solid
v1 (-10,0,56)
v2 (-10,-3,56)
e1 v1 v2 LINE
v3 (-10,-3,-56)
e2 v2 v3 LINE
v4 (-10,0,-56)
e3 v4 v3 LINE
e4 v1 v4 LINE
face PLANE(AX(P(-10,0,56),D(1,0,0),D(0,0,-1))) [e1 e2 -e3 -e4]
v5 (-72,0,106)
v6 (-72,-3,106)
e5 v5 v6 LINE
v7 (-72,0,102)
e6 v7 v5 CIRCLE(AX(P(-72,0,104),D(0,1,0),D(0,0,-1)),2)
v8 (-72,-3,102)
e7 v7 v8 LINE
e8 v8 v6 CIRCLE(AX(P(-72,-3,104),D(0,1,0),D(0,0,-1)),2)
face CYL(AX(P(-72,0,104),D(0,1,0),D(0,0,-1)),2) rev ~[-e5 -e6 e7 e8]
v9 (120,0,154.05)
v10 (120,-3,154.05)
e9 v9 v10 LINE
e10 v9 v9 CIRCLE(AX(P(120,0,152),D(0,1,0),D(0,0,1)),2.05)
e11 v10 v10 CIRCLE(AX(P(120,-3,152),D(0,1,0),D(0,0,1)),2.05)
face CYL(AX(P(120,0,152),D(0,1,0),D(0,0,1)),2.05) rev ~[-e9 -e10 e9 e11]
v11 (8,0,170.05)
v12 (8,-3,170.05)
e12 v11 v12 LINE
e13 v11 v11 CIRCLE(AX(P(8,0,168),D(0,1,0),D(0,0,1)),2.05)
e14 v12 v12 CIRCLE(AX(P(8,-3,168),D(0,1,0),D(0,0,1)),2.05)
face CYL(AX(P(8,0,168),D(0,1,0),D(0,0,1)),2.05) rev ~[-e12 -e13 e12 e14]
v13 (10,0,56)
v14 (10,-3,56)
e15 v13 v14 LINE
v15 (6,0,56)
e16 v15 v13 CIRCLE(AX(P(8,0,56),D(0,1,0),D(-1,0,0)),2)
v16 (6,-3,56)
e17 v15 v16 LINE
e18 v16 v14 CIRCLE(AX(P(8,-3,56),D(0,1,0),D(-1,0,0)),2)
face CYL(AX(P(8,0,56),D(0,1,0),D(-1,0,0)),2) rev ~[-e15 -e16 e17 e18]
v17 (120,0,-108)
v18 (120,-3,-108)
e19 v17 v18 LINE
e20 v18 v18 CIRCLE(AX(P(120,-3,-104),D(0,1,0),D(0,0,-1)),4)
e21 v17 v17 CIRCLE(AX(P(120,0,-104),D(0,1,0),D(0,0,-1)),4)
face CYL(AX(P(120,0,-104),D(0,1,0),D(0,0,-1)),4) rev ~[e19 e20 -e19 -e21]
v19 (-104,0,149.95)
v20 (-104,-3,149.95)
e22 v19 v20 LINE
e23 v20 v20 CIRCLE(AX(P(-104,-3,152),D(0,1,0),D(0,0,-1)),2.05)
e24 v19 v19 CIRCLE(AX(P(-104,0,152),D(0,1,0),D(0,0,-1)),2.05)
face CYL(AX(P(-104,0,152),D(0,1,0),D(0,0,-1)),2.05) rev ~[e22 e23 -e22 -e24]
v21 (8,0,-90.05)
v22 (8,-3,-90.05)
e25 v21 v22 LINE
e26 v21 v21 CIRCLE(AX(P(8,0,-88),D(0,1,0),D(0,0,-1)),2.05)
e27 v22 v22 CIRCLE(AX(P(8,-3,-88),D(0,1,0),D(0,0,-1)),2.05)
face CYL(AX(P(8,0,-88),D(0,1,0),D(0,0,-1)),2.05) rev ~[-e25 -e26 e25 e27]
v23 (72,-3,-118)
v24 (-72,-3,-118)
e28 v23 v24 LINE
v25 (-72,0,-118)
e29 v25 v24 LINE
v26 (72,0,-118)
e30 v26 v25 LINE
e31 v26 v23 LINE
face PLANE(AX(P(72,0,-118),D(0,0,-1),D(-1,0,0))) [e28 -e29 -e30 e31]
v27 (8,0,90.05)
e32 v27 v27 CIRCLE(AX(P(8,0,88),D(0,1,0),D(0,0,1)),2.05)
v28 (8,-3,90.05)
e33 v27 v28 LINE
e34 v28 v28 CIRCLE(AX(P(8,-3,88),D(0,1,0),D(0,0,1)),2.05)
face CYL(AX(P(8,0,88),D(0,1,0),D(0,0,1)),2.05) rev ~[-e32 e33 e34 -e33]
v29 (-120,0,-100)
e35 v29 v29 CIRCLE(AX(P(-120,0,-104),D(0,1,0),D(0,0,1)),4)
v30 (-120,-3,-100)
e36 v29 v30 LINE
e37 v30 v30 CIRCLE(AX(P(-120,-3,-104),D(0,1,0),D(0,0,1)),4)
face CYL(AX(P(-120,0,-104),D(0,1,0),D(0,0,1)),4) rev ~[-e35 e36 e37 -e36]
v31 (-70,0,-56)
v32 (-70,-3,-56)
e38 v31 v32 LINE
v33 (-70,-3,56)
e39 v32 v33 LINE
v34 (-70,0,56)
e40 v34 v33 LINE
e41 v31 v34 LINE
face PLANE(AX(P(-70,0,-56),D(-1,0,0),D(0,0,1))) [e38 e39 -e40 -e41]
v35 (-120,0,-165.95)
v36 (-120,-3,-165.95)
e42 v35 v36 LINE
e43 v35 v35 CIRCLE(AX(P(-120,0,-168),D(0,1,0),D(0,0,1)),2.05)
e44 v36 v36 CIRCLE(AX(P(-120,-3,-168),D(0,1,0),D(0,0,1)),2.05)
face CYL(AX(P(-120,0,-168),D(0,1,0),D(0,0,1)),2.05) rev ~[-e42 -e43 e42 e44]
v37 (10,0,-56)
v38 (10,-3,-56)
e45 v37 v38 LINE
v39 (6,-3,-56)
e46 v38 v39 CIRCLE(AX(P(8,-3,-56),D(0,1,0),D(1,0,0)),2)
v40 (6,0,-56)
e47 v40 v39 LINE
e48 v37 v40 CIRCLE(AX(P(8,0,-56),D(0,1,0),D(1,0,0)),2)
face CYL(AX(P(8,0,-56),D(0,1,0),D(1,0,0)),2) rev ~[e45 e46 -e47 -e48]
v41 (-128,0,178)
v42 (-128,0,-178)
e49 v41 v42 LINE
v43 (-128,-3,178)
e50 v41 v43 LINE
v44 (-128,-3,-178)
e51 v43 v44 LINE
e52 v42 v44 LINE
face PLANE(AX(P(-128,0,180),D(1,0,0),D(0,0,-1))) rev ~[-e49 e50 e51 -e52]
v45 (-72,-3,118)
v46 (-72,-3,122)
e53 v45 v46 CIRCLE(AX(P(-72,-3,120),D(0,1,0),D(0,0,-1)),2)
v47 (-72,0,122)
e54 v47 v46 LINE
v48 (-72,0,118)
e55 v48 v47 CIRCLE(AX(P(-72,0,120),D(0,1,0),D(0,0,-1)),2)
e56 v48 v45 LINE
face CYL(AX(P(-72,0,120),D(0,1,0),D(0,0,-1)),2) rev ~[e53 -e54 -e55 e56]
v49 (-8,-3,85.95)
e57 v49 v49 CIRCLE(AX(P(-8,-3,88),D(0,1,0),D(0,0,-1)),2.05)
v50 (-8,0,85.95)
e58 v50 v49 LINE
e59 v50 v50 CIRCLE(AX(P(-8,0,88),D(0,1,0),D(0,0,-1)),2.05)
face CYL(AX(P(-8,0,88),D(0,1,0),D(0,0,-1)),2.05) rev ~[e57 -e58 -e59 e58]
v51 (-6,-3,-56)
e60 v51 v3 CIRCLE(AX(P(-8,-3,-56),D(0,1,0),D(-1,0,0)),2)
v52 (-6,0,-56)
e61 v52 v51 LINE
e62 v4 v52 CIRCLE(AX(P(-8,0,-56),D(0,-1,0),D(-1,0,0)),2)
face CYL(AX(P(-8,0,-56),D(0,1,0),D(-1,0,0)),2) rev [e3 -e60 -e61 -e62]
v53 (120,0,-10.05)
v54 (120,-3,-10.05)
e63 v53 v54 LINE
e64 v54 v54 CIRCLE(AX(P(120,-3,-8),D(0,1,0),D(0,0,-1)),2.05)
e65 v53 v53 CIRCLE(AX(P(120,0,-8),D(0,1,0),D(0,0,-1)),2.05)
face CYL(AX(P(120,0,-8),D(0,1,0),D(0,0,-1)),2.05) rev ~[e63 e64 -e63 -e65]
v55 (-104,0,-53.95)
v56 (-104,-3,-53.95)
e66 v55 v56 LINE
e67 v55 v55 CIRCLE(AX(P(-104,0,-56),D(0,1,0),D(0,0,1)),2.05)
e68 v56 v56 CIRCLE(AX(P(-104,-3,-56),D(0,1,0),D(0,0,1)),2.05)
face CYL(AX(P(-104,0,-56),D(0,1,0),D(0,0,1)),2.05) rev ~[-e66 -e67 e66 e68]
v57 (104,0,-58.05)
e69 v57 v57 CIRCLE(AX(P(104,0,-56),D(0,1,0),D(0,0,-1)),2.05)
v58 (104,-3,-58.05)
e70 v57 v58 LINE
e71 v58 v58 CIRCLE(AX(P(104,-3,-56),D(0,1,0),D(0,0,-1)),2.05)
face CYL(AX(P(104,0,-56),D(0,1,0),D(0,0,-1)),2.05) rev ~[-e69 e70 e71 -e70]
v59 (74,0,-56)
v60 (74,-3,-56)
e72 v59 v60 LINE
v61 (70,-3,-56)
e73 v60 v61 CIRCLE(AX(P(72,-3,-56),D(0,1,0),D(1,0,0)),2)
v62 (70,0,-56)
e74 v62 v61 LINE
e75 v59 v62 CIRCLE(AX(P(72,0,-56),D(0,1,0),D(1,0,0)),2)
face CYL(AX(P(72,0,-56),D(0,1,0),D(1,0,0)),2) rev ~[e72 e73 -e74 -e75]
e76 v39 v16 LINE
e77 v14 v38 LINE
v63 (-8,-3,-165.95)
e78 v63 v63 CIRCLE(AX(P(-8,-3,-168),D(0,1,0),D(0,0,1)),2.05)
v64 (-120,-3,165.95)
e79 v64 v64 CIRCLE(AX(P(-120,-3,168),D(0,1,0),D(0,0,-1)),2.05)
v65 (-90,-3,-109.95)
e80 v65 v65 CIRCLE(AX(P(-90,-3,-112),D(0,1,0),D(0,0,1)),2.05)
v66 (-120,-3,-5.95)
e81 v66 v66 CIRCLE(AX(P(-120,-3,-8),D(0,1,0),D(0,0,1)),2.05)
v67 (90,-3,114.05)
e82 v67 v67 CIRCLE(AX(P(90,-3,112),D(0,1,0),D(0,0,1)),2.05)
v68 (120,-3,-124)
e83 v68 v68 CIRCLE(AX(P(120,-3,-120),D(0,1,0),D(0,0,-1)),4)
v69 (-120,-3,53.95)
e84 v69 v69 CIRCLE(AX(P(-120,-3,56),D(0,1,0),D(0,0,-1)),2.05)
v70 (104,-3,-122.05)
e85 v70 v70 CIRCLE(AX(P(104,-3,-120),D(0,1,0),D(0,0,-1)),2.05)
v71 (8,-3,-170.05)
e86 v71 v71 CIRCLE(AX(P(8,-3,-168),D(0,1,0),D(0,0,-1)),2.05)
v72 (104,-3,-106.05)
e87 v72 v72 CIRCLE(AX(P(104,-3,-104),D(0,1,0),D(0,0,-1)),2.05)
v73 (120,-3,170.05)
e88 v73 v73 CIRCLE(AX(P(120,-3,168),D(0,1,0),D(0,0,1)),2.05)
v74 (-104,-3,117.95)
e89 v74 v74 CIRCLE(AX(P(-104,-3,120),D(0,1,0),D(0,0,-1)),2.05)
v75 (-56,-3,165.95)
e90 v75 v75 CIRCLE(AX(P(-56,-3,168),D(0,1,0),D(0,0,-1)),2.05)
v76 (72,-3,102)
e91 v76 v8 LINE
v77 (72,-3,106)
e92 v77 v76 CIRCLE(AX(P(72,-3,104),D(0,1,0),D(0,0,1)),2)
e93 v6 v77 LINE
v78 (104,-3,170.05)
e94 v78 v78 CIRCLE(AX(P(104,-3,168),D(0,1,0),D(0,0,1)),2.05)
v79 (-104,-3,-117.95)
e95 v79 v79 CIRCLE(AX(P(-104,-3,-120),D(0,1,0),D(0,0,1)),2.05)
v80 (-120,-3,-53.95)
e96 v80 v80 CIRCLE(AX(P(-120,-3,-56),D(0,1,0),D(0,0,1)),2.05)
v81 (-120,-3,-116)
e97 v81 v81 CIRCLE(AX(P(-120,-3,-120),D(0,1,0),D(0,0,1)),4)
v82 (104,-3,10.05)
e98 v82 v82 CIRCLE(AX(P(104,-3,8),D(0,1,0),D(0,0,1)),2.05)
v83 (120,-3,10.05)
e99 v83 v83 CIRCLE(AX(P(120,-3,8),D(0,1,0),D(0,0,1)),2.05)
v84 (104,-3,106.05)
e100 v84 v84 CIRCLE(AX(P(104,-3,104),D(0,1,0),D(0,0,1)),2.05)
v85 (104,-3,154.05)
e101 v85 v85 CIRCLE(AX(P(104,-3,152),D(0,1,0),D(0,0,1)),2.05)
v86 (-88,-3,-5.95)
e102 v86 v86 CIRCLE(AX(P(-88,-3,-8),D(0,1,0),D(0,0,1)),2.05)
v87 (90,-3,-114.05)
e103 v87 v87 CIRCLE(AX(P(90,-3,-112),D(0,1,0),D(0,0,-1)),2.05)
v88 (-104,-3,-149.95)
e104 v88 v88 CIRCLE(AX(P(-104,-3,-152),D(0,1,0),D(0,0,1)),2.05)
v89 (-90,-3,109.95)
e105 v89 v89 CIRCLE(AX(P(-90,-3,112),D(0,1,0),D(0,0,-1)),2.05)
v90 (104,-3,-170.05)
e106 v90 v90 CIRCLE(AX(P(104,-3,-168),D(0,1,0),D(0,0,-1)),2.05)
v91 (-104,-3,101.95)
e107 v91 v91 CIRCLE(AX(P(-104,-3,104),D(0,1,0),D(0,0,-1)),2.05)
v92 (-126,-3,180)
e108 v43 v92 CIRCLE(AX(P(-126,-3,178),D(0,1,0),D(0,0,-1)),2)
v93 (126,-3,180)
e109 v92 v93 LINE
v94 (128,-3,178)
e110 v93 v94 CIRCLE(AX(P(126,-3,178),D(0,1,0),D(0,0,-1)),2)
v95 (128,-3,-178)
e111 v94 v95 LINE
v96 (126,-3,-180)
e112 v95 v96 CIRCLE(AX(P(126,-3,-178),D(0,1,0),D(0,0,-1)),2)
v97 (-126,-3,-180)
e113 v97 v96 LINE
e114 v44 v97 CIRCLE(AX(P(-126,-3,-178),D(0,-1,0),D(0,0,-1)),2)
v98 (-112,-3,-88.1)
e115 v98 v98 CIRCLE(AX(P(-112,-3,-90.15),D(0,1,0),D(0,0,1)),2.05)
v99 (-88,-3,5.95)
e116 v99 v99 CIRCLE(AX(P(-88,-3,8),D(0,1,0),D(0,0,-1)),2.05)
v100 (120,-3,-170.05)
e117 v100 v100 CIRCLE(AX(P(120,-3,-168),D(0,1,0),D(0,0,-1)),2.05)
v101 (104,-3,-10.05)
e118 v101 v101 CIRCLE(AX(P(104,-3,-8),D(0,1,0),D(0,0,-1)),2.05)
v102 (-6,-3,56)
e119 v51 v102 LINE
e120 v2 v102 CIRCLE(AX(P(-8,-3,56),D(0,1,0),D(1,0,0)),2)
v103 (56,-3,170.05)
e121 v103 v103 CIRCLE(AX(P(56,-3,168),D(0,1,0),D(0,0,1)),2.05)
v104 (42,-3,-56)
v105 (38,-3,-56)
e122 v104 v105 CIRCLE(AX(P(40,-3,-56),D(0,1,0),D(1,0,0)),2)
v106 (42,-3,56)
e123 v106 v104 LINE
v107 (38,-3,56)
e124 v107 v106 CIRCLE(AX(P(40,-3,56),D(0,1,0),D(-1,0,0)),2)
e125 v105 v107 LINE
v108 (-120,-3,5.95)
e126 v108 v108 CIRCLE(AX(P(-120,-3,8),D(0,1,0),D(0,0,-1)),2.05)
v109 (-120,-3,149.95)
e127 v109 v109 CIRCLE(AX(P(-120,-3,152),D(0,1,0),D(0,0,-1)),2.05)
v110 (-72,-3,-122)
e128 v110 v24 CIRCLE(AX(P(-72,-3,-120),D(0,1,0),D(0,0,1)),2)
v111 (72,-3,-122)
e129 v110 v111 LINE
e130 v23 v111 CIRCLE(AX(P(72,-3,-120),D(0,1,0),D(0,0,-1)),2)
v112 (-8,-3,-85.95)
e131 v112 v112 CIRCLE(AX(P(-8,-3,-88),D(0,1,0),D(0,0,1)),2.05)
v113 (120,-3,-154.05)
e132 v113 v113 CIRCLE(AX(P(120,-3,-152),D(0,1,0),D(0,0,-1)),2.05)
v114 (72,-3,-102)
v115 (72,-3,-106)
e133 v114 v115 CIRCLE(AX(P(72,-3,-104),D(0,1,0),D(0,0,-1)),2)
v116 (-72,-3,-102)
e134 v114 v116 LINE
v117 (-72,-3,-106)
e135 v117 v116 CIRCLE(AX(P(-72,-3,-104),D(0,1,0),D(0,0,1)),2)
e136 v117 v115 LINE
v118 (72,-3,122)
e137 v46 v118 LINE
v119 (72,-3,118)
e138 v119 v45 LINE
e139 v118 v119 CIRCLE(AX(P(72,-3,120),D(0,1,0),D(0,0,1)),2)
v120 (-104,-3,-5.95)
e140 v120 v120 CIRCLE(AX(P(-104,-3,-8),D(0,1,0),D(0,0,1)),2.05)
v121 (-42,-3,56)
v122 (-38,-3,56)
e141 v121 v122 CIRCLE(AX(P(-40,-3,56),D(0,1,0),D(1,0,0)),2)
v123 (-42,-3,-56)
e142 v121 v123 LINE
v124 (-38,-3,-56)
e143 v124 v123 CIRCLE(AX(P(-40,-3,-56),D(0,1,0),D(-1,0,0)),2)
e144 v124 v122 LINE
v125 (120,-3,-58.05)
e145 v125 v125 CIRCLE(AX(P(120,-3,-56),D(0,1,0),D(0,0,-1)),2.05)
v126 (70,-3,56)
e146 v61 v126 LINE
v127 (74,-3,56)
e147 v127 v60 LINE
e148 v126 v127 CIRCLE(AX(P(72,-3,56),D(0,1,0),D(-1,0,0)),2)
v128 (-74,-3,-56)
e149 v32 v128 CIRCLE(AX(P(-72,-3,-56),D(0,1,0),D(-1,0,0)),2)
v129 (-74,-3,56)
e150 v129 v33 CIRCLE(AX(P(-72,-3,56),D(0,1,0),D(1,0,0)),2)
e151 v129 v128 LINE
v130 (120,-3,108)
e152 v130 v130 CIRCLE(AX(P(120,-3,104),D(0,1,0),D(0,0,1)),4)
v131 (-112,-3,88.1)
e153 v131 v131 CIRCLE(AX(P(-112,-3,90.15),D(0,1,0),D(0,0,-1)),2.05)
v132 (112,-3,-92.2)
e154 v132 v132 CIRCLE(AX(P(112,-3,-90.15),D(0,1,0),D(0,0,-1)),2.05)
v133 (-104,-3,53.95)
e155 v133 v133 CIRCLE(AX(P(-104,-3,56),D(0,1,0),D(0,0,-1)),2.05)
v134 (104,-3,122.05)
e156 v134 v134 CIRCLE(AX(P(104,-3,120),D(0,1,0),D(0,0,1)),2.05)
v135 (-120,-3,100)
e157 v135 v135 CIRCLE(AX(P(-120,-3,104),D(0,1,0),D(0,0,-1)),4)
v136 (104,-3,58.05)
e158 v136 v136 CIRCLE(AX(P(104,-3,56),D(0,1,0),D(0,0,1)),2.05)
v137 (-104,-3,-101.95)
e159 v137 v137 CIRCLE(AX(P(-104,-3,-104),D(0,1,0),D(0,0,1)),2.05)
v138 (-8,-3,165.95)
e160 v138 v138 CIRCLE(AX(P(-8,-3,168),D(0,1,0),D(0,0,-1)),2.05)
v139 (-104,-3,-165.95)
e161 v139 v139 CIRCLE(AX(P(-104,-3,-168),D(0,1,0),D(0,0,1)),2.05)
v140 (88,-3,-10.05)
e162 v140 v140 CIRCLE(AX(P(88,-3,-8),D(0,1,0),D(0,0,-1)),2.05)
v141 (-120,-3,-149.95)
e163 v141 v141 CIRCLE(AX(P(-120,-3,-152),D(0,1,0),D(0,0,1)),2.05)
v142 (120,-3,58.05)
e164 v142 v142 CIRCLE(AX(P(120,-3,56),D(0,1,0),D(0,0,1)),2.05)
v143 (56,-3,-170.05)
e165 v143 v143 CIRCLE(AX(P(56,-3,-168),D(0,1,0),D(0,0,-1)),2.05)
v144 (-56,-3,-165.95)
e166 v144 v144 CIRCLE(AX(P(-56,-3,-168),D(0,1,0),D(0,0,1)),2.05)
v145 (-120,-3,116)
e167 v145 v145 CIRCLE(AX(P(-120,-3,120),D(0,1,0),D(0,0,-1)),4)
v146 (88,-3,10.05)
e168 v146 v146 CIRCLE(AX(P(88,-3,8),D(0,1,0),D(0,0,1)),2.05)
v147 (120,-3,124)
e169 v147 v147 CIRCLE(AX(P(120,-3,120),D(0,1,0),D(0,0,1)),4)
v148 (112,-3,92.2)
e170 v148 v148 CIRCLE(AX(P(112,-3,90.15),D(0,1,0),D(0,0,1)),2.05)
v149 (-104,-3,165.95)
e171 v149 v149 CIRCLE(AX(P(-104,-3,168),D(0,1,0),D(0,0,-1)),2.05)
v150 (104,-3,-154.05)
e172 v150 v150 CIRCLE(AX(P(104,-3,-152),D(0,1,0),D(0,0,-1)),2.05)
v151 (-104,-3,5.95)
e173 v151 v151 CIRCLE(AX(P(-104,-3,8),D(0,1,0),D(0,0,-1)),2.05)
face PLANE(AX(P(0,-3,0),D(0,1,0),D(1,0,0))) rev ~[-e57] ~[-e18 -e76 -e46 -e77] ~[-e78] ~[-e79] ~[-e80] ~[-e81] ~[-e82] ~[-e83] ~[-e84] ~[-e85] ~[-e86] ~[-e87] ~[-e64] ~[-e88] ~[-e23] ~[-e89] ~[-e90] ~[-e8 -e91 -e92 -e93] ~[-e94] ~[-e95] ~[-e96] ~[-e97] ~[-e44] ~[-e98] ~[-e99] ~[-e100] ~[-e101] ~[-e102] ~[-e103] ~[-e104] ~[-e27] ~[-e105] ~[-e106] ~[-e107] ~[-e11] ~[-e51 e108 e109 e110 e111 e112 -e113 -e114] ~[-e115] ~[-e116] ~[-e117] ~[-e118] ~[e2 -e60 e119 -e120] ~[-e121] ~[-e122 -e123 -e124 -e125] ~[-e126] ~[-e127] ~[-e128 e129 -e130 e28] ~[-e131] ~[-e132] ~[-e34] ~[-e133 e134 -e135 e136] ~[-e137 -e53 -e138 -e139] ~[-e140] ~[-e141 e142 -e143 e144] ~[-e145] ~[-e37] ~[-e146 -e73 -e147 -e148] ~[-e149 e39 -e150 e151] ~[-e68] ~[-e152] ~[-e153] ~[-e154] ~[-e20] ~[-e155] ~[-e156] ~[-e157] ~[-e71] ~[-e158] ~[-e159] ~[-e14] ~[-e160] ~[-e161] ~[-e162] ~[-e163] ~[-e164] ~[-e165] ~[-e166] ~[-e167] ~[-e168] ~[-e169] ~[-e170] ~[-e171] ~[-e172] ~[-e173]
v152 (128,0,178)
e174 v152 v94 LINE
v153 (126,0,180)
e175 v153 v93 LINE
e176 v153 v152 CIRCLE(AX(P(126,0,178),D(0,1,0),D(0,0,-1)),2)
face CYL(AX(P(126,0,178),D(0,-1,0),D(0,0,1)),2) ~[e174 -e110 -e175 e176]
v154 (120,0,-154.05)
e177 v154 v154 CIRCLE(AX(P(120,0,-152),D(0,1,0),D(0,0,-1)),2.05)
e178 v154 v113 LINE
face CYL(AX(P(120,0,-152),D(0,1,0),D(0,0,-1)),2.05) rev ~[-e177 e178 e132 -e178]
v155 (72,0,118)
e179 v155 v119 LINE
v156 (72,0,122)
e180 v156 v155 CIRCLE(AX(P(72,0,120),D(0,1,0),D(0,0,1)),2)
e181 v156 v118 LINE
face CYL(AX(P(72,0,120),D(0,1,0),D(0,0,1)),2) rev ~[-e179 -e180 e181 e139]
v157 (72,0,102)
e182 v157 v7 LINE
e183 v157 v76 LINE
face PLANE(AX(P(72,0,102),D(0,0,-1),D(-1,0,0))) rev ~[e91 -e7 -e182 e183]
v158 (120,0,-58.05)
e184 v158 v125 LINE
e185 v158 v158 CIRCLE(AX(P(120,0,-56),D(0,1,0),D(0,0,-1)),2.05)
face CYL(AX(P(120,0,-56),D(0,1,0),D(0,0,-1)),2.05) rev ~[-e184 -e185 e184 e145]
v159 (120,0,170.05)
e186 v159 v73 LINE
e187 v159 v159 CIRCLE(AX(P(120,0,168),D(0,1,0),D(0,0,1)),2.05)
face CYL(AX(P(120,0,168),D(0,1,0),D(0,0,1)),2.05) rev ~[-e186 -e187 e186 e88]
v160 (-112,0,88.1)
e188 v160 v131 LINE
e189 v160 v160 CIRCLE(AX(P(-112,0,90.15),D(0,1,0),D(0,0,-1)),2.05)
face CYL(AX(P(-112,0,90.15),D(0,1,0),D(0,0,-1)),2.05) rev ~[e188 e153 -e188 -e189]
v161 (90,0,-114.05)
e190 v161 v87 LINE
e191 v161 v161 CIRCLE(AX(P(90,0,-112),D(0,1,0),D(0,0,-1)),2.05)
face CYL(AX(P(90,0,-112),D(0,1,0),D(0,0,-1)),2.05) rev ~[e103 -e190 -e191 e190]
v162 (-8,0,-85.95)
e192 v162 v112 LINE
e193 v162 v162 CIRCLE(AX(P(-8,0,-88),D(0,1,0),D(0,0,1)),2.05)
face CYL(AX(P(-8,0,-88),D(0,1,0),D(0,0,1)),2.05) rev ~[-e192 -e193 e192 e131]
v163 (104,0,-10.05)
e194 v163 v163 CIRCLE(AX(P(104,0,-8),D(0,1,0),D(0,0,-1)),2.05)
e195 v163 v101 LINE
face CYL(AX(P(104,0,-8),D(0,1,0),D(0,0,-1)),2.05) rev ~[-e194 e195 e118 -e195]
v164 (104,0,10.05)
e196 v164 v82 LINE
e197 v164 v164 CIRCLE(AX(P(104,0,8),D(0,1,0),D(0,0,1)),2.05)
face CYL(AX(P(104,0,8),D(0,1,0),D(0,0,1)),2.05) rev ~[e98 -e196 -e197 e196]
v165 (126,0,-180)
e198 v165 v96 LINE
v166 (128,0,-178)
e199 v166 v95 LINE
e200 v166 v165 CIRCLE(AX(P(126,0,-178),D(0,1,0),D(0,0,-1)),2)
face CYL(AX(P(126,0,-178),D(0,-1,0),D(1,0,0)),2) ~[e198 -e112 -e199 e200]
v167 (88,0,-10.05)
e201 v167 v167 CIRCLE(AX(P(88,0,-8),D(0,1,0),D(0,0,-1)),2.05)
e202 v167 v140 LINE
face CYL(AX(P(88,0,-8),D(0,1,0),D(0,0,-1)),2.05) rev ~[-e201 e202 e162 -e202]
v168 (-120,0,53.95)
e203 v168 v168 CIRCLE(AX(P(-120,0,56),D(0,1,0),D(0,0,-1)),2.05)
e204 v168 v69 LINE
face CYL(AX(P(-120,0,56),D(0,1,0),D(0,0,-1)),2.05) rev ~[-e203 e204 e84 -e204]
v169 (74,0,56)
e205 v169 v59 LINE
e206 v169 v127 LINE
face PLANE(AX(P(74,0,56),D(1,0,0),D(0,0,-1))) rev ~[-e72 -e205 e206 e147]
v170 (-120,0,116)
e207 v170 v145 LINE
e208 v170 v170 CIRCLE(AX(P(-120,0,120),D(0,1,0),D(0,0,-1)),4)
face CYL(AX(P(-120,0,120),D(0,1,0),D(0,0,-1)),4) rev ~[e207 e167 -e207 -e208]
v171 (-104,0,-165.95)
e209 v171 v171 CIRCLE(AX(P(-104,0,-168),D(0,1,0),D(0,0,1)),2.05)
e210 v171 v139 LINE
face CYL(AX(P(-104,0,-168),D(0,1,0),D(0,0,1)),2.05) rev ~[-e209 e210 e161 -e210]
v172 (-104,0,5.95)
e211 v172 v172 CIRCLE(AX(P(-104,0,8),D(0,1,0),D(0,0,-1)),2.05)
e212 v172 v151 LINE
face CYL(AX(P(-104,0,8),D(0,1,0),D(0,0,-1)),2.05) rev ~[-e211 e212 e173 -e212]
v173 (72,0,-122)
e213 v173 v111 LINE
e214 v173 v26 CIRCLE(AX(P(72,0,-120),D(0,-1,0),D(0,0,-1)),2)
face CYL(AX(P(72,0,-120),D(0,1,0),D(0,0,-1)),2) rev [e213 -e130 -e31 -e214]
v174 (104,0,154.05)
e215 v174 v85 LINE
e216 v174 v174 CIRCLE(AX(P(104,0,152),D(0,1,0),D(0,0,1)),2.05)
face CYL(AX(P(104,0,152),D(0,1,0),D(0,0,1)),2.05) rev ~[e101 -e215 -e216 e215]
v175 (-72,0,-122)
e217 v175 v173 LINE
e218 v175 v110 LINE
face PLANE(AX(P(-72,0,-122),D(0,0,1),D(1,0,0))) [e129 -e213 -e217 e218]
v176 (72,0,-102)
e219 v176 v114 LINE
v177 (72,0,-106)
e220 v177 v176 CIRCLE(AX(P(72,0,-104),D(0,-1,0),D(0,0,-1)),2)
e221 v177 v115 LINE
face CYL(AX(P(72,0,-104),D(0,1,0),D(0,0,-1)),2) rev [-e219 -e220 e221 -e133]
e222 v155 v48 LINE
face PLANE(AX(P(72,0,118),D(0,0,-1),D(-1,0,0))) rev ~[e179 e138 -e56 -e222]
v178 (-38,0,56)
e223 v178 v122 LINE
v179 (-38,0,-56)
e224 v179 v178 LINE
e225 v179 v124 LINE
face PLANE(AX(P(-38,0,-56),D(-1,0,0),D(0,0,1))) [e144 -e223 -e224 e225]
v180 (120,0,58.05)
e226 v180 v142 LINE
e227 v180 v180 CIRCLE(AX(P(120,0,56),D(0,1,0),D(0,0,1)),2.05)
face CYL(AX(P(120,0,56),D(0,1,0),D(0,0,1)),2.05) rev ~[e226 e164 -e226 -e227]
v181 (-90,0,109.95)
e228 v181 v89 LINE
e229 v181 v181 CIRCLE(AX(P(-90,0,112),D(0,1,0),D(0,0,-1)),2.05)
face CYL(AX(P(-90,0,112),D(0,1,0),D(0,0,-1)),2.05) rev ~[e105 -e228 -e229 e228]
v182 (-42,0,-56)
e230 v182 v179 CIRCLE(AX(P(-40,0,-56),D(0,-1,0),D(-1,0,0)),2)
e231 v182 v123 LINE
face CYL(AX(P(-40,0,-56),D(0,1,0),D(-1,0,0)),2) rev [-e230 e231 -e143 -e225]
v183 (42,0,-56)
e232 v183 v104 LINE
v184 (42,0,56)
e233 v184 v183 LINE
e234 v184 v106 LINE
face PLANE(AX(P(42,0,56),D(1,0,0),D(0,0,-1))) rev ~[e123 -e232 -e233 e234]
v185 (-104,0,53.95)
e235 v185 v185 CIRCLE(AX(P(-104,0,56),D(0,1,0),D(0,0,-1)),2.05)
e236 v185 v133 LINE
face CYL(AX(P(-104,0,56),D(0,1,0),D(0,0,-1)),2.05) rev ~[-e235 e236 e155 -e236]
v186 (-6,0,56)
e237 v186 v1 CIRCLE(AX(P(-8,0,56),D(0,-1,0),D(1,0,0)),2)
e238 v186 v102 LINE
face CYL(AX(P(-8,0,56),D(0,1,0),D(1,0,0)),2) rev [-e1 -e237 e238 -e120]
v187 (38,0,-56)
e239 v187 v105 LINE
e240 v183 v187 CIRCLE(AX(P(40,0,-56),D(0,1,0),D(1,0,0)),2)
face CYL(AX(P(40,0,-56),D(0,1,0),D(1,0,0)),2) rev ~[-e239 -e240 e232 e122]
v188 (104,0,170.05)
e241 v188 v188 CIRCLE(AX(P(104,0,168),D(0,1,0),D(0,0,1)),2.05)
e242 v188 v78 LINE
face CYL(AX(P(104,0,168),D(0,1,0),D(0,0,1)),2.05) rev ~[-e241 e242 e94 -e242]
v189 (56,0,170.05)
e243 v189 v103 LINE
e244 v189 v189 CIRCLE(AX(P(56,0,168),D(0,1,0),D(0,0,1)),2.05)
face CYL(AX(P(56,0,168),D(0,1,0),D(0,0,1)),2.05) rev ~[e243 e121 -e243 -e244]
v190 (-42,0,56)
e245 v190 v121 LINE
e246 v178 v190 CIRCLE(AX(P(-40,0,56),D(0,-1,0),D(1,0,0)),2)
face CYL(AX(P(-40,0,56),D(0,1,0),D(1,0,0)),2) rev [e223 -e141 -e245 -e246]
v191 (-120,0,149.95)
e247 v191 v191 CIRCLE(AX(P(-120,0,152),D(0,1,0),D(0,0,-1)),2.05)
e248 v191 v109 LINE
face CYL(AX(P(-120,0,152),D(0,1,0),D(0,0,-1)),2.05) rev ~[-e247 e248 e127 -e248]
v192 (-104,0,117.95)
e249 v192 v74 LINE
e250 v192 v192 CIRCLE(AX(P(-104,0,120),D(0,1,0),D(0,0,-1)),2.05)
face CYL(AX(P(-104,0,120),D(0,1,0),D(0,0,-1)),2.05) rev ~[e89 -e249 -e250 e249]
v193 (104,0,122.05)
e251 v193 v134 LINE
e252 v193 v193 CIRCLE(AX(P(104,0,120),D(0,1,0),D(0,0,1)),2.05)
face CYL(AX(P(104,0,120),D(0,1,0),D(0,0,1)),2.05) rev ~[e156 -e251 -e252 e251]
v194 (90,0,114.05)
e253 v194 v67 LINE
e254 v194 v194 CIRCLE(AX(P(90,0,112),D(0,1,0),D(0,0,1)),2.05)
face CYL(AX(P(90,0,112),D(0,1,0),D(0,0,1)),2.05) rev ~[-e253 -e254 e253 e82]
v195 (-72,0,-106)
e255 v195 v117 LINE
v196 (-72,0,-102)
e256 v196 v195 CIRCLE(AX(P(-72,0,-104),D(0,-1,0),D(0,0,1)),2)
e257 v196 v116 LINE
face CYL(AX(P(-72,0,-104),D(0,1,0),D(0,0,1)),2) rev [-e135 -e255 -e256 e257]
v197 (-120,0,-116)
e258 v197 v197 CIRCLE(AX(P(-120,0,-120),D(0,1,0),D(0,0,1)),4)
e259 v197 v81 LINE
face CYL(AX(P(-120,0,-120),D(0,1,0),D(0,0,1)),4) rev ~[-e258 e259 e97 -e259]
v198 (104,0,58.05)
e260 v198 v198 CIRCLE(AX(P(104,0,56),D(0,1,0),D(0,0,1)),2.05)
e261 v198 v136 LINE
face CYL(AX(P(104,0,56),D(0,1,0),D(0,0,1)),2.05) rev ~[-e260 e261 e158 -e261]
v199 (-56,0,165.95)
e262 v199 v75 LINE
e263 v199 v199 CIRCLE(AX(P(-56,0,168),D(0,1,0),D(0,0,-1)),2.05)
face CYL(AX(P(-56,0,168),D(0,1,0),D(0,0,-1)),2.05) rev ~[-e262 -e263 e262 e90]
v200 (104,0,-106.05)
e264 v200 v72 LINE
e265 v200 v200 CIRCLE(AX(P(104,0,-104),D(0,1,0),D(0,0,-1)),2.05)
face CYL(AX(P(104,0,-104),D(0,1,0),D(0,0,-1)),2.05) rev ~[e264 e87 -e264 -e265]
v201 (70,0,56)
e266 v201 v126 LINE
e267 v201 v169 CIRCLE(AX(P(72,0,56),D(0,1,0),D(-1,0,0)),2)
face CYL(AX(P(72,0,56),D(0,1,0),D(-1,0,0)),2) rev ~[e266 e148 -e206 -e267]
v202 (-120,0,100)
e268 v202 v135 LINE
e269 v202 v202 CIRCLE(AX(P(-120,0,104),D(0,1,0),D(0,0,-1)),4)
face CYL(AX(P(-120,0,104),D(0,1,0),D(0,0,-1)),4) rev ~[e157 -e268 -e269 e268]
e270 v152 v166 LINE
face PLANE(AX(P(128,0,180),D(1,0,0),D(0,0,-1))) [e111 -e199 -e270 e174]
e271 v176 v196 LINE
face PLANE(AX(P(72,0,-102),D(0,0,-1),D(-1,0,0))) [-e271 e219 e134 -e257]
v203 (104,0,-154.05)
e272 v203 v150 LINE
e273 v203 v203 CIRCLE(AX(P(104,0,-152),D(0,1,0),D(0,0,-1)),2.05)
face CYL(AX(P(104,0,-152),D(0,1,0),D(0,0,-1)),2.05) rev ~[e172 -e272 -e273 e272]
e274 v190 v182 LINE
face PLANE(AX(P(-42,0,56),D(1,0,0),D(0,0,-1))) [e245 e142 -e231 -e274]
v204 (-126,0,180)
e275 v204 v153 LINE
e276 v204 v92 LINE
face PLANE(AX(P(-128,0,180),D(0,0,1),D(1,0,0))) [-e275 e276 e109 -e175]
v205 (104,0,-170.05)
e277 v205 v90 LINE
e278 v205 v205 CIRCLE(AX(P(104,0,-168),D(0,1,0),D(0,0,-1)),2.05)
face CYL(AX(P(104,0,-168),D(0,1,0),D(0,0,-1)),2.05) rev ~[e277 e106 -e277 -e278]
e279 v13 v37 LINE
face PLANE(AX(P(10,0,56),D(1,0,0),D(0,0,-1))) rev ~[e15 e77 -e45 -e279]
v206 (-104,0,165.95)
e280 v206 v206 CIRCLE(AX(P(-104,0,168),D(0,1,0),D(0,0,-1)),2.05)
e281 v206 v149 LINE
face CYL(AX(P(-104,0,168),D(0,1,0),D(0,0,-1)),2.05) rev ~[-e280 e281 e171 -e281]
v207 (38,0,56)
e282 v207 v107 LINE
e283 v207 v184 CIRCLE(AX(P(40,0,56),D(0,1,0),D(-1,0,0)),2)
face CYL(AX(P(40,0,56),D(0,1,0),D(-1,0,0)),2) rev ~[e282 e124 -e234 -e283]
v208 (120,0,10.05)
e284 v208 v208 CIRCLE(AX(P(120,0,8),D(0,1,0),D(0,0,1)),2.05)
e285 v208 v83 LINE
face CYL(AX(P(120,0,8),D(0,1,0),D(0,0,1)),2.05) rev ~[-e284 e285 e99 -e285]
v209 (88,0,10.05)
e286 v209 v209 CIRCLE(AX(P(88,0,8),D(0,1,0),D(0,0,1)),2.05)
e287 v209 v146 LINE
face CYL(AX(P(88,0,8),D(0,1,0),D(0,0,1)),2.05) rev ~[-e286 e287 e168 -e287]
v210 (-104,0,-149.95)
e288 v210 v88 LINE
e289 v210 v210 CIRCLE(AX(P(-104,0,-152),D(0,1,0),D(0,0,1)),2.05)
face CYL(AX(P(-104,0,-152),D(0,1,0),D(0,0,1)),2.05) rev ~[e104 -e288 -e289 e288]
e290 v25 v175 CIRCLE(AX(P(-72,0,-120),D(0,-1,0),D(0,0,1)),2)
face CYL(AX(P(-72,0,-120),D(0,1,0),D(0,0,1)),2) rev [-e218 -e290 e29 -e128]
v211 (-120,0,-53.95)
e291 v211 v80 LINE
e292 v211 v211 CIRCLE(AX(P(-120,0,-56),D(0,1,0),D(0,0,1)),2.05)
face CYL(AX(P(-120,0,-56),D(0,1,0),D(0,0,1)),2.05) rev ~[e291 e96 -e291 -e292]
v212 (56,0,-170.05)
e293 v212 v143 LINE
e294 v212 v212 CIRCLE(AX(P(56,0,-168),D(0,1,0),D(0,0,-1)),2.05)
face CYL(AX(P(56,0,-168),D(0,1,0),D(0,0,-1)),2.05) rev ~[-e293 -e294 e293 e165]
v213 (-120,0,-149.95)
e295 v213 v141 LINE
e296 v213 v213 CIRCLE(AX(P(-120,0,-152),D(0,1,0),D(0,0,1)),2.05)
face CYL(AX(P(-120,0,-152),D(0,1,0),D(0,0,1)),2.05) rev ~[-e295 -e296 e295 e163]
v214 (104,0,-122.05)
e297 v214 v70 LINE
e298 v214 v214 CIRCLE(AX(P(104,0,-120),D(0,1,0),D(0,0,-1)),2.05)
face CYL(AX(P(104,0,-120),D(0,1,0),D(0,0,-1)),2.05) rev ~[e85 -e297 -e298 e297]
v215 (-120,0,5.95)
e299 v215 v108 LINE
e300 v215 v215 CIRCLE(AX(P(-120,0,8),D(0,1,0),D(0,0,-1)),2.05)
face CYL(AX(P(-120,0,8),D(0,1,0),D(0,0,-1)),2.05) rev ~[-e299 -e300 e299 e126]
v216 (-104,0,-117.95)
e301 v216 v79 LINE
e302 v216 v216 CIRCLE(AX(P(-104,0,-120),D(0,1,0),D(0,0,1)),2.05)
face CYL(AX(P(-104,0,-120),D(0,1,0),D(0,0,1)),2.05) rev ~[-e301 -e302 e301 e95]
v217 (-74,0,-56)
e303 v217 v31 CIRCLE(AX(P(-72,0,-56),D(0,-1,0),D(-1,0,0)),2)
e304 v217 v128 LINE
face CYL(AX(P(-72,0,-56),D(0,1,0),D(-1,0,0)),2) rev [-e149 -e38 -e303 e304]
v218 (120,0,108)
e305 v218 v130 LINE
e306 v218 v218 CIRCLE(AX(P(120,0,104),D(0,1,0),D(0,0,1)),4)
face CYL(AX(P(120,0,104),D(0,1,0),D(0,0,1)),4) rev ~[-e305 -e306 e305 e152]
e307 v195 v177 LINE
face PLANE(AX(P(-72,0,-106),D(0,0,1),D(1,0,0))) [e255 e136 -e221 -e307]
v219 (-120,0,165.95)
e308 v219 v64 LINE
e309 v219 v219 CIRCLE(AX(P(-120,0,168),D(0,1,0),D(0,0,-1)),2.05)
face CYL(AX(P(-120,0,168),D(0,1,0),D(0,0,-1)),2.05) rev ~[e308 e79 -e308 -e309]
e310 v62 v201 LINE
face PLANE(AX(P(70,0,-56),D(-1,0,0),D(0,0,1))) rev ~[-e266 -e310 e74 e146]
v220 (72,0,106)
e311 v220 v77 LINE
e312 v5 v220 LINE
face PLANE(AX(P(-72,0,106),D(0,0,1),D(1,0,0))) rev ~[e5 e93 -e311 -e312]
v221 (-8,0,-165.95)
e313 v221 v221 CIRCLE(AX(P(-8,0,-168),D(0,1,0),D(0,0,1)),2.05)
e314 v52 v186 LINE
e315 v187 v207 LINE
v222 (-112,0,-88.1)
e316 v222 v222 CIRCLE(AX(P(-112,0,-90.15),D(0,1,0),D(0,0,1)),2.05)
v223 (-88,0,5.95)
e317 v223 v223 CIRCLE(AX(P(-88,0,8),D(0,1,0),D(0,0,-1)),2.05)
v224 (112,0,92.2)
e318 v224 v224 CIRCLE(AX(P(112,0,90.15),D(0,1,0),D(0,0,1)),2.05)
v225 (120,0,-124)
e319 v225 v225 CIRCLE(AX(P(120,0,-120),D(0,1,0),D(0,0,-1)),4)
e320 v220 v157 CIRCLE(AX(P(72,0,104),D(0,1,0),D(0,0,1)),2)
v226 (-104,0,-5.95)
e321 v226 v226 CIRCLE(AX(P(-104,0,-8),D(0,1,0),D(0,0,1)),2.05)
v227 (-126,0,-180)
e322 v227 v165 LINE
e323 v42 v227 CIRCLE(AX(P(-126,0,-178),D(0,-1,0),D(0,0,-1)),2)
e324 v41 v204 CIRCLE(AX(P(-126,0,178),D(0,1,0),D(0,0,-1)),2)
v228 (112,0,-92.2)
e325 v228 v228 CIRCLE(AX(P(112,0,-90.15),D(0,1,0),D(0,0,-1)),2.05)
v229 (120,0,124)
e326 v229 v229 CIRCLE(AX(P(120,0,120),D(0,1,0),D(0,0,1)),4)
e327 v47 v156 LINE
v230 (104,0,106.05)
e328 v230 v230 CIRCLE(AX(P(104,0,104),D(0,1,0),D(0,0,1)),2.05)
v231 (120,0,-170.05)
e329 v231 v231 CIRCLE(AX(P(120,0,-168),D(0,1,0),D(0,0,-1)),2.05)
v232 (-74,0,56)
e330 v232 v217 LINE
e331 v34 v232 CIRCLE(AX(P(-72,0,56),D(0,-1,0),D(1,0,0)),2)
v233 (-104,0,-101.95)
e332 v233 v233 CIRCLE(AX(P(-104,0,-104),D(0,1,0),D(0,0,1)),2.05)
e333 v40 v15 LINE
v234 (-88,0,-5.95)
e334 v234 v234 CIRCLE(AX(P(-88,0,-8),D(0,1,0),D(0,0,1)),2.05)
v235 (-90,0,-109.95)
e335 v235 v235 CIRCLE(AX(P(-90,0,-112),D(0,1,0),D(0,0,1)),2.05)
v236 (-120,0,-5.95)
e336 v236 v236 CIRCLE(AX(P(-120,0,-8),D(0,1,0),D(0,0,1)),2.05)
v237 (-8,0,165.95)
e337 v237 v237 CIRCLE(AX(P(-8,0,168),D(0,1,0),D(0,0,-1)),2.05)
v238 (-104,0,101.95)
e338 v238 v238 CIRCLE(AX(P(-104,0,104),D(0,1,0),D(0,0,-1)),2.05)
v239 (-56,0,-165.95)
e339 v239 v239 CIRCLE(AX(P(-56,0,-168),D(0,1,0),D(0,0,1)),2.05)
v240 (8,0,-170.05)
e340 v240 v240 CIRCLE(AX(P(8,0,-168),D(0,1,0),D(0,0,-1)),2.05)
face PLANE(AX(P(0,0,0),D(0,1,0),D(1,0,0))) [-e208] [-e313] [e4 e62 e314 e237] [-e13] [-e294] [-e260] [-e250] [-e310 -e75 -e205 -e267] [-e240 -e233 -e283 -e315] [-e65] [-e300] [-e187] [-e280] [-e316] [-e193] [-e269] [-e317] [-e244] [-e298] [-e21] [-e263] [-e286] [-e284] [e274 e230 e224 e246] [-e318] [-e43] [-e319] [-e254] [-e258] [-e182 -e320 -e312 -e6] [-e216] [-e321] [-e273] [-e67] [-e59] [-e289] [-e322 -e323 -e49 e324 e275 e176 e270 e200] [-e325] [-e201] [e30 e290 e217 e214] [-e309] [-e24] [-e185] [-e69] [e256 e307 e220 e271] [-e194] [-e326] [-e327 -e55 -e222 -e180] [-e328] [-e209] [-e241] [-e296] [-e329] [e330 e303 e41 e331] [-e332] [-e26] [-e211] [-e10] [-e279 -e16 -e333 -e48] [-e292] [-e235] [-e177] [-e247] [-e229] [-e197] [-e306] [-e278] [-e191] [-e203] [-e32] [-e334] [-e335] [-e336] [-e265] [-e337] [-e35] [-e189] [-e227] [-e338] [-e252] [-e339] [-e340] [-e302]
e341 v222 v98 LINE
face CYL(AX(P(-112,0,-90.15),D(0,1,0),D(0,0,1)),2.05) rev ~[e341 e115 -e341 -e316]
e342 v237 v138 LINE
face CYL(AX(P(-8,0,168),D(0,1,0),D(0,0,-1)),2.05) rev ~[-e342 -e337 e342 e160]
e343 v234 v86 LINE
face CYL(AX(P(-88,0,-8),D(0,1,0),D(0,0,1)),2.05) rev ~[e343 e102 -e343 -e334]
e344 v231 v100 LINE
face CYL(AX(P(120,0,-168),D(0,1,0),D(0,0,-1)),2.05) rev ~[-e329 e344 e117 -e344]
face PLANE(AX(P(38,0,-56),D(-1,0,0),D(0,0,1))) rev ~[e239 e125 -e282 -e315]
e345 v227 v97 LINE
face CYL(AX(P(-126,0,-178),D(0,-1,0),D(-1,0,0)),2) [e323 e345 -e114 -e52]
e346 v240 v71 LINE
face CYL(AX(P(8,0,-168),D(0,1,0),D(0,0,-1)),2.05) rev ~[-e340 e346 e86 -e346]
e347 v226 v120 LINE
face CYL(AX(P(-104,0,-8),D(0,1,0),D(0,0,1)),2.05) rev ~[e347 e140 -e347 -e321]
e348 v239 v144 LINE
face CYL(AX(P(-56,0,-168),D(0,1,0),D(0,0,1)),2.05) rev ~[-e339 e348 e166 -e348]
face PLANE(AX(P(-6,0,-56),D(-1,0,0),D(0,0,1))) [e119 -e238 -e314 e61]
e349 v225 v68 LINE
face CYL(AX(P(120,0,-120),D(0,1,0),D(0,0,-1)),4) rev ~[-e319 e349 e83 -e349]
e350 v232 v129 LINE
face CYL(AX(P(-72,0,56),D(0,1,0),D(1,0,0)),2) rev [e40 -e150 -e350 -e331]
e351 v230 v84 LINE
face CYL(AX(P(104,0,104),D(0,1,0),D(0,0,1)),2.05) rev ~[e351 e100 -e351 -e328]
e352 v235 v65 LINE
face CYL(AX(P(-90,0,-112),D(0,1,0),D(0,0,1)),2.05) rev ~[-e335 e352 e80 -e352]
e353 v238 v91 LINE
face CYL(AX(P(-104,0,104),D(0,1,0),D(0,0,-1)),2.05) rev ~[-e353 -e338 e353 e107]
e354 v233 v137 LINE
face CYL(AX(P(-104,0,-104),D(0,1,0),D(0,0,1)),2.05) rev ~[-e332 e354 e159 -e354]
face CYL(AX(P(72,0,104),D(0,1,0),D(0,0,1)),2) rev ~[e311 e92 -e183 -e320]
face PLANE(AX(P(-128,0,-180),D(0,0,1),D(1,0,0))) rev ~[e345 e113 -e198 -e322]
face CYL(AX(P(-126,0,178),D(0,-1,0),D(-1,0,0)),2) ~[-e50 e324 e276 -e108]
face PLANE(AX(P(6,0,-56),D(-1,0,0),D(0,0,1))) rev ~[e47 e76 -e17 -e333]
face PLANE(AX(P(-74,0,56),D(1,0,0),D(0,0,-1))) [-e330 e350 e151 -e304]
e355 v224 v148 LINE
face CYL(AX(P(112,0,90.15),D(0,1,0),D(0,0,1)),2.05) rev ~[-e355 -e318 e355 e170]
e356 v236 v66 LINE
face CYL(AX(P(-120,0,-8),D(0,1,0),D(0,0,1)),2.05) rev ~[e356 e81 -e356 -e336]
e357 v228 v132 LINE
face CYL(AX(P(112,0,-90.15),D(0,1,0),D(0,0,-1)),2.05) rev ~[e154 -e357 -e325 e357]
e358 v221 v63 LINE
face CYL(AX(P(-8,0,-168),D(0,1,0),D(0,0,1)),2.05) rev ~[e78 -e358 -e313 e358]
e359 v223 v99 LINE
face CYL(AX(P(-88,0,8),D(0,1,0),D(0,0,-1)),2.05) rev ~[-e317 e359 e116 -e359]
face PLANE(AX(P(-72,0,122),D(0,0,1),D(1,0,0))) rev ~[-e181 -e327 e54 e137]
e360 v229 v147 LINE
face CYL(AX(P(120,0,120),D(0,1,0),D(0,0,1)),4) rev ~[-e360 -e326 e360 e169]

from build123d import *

# Parameters (mm, degrees)
SKETCH1_W           = 256
SKETCH1_H           = 360
BOSS_EXTRUDE1_DEPTH = 3
FILLET1_R           = 2
SKETCH2_R           = 4
CUT_EXTRUDE2_DEPTH  = 221.89137602
SKETCH4_R           = 2.05
CUT_EXTRUDE3_DEPTH  = 221.89137602
SKETCH5_R           = 2.05
CUT_EXTRUDE4_DEPTH  = 221.89137602
CUT_EXTRUDE5_DEPTH  = 221.89137602


with BuildPart() as part:
    # Sketch1 → Boss-Extrude1 (new body)
    with BuildSketch(Plane(origin=(0, 0, 0), x_dir=(1, 0, 0), z_dir=(0, 1, 0))):
        Rectangle(SKETCH1_W, SKETCH1_H)
    extrude(amount=-BOSS_EXTRUDE1_DEPTH)

    # Fillet1
    fillet1_edges = [part.edges().sort_by_distance(p)[0] for p in [
        (-128, -1.5, -180),
        (128, -1.5, -180),
        (128, -1.5, 180),
        (-128, -1.5, 180),
    ]]
    fillet(fillet1_edges, radius=FILLET1_R)

    # Sketch2 → Cut-Extrude2 (cut, through all)
    with BuildSketch(Plane(origin=(0, 0, 0), x_dir=(1, 0, 0), z_dir=(0, 1, 0))):
        with Locations(Location((-120, 104, 0), (0, 0, 270))):
            Circle(SKETCH2_R)
        with Locations(Location((-120, 120, 0), (0, 0, 270))):
            Circle(SKETCH2_R)
        with Locations(Location((120, 104, 0), (0, 0, 90))):
            Circle(SKETCH2_R)
        with Locations(Location((120, 120, 0), (0, 0, 90))):
            Circle(SKETCH2_R)
        with Locations(Location((120, -104, 0), (0, 0, 270))):
            Circle(SKETCH2_R)
        with Locations(Location((120, -120, 0), (0, 0, 270))):
            Circle(SKETCH2_R)
        with Locations(Location((-120, -120, 0), (0, 0, 90))):
            Circle(SKETCH2_R)
        with Locations(Location((-120, -104, 0), (0, 0, 90))):
            Circle(SKETCH2_R)
    extrude(amount=-CUT_EXTRUDE2_DEPTH, mode=Mode.SUBTRACT)

    # Sketch4 → Cut-Extrude3 (cut, through all)
    with BuildSketch(Plane(origin=(0, 0, 0), x_dir=(1, 0, 0), z_dir=(0, 1, 0))):
        with Locations(Location((-120, 168, 0), (0, 0, 270))):
            Circle(SKETCH4_R)
        with Locations(Location((-104, 168, 0), (0, 0, 270))):
            Circle(SKETCH4_R)
        with Locations(Location((-56, 168, 0), (0, 0, 270))):
            Circle(SKETCH4_R)
        with Locations(Location((-8, 168, 0), (0, 0, 270))):
            Circle(SKETCH4_R)
        with Locations(Location((-104, 152, 0), (0, 0, 270))):
            Circle(SKETCH4_R)
        with Locations(Location((-104, 120, 0), (0, 0, 270))):
            Circle(SKETCH4_R)
        with Locations(Location((-104, 104, 0), (0, 0, 270))):
            Circle(SKETCH4_R)
        with Locations(Location((-8, 88, 0), (0, 0, 270))):
            Circle(SKETCH4_R)
        with Locations(Location((-104, 56, 0), (0, 0, 270))):
            Circle(SKETCH4_R)
        with Locations(Location((-104, 8, 0), (0, 0, 270))):
            Circle(SKETCH4_R)
        with Locations(Location((-88, 8, 0), (0, 0, 270))):
            Circle(SKETCH4_R)
        with Locations(Location((-120, 152, 0), (0, 0, 270))):
            Circle(SKETCH4_R)
        with Locations((-120, 120)):
            Circle(SKETCH4_R)
        with Locations((-120, 104)):
            Circle(SKETCH4_R)
        with Locations(Location((-120, 56, 0), (0, 0, 270))):
            Circle(SKETCH4_R)
        with Locations(Location((-120, 8, 0), (0, 0, 270))):
            Circle(SKETCH4_R)
        with Locations(Location((120, 8, 0), (0, 0, 90))):
            Circle(SKETCH4_R)
        with Locations(Location((120, 56, 0), (0, 0, 90))):
            Circle(SKETCH4_R)
        with Locations((120, 104)):
            Circle(SKETCH4_R)
        with Locations((120, 120)):
            Circle(SKETCH4_R)
        with Locations(Location((120, 152, 0), (0, 0, 90))):
            Circle(SKETCH4_R)
        with Locations(Location((88, 8, 0), (0, 0, 90))):
            Circle(SKETCH4_R)
        with Locations(Location((104, 8, 0), (0, 0, 90))):
            Circle(SKETCH4_R)
        with Locations(Location((104, 56, 0), (0, 0, 90))):
            Circle(SKETCH4_R)
        with Locations(Location((8, 88, 0), (0, 0, 90))):
            Circle(SKETCH4_R)
        with Locations(Location((104, 104, 0), (0, 0, 90))):
            Circle(SKETCH4_R)
        with Locations(Location((104, 120, 0), (0, 0, 90))):
            Circle(SKETCH4_R)
        with Locations(Location((104, 152, 0), (0, 0, 90))):
            Circle(SKETCH4_R)
        with Locations(Location((8, 168, 0), (0, 0, 90))):
            Circle(SKETCH4_R)
        with Locations(Location((56, 168, 0), (0, 0, 90))):
            Circle(SKETCH4_R)
        with Locations(Location((104, 168, 0), (0, 0, 90))):
            Circle(SKETCH4_R)
        with Locations(Location((120, 168, 0), (0, 0, 90))):
            Circle(SKETCH4_R)
        with Locations(Location((120, -168, 0), (0, 0, 270))):
            Circle(SKETCH4_R)
        with Locations(Location((104, -168, 0), (0, 0, 270))):
            Circle(SKETCH4_R)
        with Locations(Location((56, -168, 0), (0, 0, 270))):
            Circle(SKETCH4_R)
        with Locations(Location((8, -168, 0), (0, 0, 270))):
            Circle(SKETCH4_R)
        with Locations(Location((104, -152, 0), (0, 0, 270))):
            Circle(SKETCH4_R)
        with Locations(Location((104, -120, 0), (0, 0, 270))):
            Circle(SKETCH4_R)
        with Locations(Location((104, -104, 0), (0, 0, 270))):
            Circle(SKETCH4_R)
        with Locations(Location((8, -88, 0), (0, 0, 270))):
            Circle(SKETCH4_R)
        with Locations(Location((104, -56, 0), (0, 0, 270))):
            Circle(SKETCH4_R)
        with Locations(Location((104, -8, 0), (0, 0, 270))):
            Circle(SKETCH4_R)
        with Locations(Location((88, -8, 0), (0, 0, 270))):
            Circle(SKETCH4_R)
        with Locations(Location((120, -152, 0), (0, 0, 270))):
            Circle(SKETCH4_R)
        with Locations((120, -120)):
            Circle(SKETCH4_R)
        with Locations((120, -104)):
            Circle(SKETCH4_R)
        with Locations(Location((120, -56, 0), (0, 0, 270))):
            Circle(SKETCH4_R)
        with Locations(Location((120, -8, 0), (0, 0, 270))):
            Circle(SKETCH4_R)
        with Locations(Location((-120, -8, 0), (0, 0, 90))):
            Circle(SKETCH4_R)
        with Locations(Location((-120, -56, 0), (0, 0, 90))):
            Circle(SKETCH4_R)
        with Locations((-120, -104)):
            Circle(SKETCH4_R)
        with Locations((-120, -120)):
            Circle(SKETCH4_R)
        with Locations(Location((-120, -152, 0), (0, 0, 90))):
            Circle(SKETCH4_R)
        with Locations(Location((-88, -8, 0), (0, 0, 90))):
            Circle(SKETCH4_R)
        with Locations(Location((-104, -8, 0), (0, 0, 90))):
            Circle(SKETCH4_R)
        with Locations(Location((-104, -56, 0), (0, 0, 90))):
            Circle(SKETCH4_R)
        with Locations(Location((-8, -88, 0), (0, 0, 90))):
            Circle(SKETCH4_R)
        with Locations(Location((-104, -104, 0), (0, 0, 90))):
            Circle(SKETCH4_R)
        with Locations(Location((-104, -120, 0), (0, 0, 90))):
            Circle(SKETCH4_R)
        with Locations(Location((-104, -152, 0), (0, 0, 90))):
            Circle(SKETCH4_R)
        with Locations(Location((-8, -168, 0), (0, 0, 90))):
            Circle(SKETCH4_R)
        with Locations(Location((-56, -168, 0), (0, 0, 90))):
            Circle(SKETCH4_R)
        with Locations(Location((-104, -168, 0), (0, 0, 90))):
            Circle(SKETCH4_R)
        with Locations(Location((-120, -168, 0), (0, 0, 90))):
            Circle(SKETCH4_R)
    extrude(amount=-CUT_EXTRUDE3_DEPTH, mode=Mode.SUBTRACT)

    # Sketch5 → Cut-Extrude4 (cut, through all)
    with BuildSketch(Plane(origin=(0, 0, 0), x_dir=(1, 0, 0), z_dir=(0, 1, 0))):
        with Locations(Location((-112, 90.15, 0), (0, 0, 270))):
            Circle(SKETCH5_R)
        with Locations(Location((-90, 112, 0), (0, 0, 270))):
            Circle(SKETCH5_R)
        with Locations(Location((112, 90.15, 0), (0, 0, 90))):
            Circle(SKETCH5_R)
        with Locations(Location((90, 112, 0), (0, 0, 90))):
            Circle(SKETCH5_R)
        with Locations(Location((112, -90.15, 0), (0, 0, 270))):
            Circle(SKETCH5_R)
        with Locations(Location((90, -112, 0), (0, 0, 270))):
            Circle(SKETCH5_R)
        with Locations(Location((-90, -112, 0), (0, 0, 90))):
            Circle(SKETCH5_R)
        with Locations(Location((-112, -90.15, 0), (0, 0, 90))):
            Circle(SKETCH5_R)
    extrude(amount=-CUT_EXTRUDE4_DEPTH, mode=Mode.SUBTRACT)

    # Sketch6 → Cut-Extrude5 (cut, through all)
    with BuildSketch(Plane(origin=(0, 0, 0), x_dir=(1, 0, 0), z_dir=(0, 1, 0))):
        with BuildLine():
            Line((-72, 122), (72, 122))
            ThreePointArc((72, 122), (74, 120), (72, 118))
            Line((72, 118), (-72, 118))
            ThreePointArc((-72, 118), (-74, 120), (-72, 122))
        make_face()
        with BuildLine():
            Line((-72, 106), (72, 106))
            ThreePointArc((72, 106), (74, 104), (72, 102))
            Line((72, 102), (-72, 102))
            ThreePointArc((-72, 102), (-74, 104), (-72, 106))
        make_face()
        with BuildLine():
            Line((-10, -56), (-10, 56))
            ThreePointArc((-10, 56), (-8, 58), (-6, 56))
            Line((-6, 56), (-6, -56))
            ThreePointArc((-6, -56), (-8, -58), (-10, -56))
        make_face()
        with BuildLine():
            Line((-42, -56), (-42, 56))
            ThreePointArc((-42, 56), (-40, 58), (-38, 56))
            Line((-38, 56), (-38, -56))
            ThreePointArc((-38, -56), (-40, -58), (-42, -56))
        make_face()
        with BuildLine():
            Line((-74, -56), (-74, 56))
            ThreePointArc((-74, 56), (-72, 58), (-70, 56))
            Line((-70, 56), (-70, -56))
            ThreePointArc((-70, -56), (-72, -58), (-74, -56))
        make_face()
        with BuildLine():
            Line((-72, -106), (72, -106))
            ThreePointArc((72, -106), (74, -104), (72, -102))
            Line((72, -102), (-72, -102))
            ThreePointArc((-72, -102), (-74, -104), (-72, -106))
        make_face()
        with BuildLine():
            Line((-72, -122), (72, -122))
            ThreePointArc((72, -122), (74, -120), (72, -118))
            Line((72, -118), (-72, -118))
            ThreePointArc((-72, -118), (-74, -120), (-72, -122))
        make_face()
        with BuildLine():
            Line((74, -56), (74, 56))
            ThreePointArc((74, 56), (72, 58), (70, 56))
            Line((70, 56), (70, -56))
            ThreePointArc((70, -56), (72, -58), (74, -56))
        make_face()
        with BuildLine():
            Line((42, -56), (42, 56))
            ThreePointArc((42, 56), (40, 58), (38, 56))
            Line((38, 56), (38, -56))
            ThreePointArc((38, -56), (40, -58), (42, -56))
        make_face()
        with BuildLine():
            Line((10, -56), (10, 56))
            ThreePointArc((10, 56), (8, 58), (6, 56))
            Line((6, 56), (6, -56))
            ThreePointArc((6, -56), (8, -58), (10, -56))
        make_face()
    extrude(amount=-CUT_EXTRUDE5_DEPTH, mode=Mode.SUBTRACT)


solid = part.part
